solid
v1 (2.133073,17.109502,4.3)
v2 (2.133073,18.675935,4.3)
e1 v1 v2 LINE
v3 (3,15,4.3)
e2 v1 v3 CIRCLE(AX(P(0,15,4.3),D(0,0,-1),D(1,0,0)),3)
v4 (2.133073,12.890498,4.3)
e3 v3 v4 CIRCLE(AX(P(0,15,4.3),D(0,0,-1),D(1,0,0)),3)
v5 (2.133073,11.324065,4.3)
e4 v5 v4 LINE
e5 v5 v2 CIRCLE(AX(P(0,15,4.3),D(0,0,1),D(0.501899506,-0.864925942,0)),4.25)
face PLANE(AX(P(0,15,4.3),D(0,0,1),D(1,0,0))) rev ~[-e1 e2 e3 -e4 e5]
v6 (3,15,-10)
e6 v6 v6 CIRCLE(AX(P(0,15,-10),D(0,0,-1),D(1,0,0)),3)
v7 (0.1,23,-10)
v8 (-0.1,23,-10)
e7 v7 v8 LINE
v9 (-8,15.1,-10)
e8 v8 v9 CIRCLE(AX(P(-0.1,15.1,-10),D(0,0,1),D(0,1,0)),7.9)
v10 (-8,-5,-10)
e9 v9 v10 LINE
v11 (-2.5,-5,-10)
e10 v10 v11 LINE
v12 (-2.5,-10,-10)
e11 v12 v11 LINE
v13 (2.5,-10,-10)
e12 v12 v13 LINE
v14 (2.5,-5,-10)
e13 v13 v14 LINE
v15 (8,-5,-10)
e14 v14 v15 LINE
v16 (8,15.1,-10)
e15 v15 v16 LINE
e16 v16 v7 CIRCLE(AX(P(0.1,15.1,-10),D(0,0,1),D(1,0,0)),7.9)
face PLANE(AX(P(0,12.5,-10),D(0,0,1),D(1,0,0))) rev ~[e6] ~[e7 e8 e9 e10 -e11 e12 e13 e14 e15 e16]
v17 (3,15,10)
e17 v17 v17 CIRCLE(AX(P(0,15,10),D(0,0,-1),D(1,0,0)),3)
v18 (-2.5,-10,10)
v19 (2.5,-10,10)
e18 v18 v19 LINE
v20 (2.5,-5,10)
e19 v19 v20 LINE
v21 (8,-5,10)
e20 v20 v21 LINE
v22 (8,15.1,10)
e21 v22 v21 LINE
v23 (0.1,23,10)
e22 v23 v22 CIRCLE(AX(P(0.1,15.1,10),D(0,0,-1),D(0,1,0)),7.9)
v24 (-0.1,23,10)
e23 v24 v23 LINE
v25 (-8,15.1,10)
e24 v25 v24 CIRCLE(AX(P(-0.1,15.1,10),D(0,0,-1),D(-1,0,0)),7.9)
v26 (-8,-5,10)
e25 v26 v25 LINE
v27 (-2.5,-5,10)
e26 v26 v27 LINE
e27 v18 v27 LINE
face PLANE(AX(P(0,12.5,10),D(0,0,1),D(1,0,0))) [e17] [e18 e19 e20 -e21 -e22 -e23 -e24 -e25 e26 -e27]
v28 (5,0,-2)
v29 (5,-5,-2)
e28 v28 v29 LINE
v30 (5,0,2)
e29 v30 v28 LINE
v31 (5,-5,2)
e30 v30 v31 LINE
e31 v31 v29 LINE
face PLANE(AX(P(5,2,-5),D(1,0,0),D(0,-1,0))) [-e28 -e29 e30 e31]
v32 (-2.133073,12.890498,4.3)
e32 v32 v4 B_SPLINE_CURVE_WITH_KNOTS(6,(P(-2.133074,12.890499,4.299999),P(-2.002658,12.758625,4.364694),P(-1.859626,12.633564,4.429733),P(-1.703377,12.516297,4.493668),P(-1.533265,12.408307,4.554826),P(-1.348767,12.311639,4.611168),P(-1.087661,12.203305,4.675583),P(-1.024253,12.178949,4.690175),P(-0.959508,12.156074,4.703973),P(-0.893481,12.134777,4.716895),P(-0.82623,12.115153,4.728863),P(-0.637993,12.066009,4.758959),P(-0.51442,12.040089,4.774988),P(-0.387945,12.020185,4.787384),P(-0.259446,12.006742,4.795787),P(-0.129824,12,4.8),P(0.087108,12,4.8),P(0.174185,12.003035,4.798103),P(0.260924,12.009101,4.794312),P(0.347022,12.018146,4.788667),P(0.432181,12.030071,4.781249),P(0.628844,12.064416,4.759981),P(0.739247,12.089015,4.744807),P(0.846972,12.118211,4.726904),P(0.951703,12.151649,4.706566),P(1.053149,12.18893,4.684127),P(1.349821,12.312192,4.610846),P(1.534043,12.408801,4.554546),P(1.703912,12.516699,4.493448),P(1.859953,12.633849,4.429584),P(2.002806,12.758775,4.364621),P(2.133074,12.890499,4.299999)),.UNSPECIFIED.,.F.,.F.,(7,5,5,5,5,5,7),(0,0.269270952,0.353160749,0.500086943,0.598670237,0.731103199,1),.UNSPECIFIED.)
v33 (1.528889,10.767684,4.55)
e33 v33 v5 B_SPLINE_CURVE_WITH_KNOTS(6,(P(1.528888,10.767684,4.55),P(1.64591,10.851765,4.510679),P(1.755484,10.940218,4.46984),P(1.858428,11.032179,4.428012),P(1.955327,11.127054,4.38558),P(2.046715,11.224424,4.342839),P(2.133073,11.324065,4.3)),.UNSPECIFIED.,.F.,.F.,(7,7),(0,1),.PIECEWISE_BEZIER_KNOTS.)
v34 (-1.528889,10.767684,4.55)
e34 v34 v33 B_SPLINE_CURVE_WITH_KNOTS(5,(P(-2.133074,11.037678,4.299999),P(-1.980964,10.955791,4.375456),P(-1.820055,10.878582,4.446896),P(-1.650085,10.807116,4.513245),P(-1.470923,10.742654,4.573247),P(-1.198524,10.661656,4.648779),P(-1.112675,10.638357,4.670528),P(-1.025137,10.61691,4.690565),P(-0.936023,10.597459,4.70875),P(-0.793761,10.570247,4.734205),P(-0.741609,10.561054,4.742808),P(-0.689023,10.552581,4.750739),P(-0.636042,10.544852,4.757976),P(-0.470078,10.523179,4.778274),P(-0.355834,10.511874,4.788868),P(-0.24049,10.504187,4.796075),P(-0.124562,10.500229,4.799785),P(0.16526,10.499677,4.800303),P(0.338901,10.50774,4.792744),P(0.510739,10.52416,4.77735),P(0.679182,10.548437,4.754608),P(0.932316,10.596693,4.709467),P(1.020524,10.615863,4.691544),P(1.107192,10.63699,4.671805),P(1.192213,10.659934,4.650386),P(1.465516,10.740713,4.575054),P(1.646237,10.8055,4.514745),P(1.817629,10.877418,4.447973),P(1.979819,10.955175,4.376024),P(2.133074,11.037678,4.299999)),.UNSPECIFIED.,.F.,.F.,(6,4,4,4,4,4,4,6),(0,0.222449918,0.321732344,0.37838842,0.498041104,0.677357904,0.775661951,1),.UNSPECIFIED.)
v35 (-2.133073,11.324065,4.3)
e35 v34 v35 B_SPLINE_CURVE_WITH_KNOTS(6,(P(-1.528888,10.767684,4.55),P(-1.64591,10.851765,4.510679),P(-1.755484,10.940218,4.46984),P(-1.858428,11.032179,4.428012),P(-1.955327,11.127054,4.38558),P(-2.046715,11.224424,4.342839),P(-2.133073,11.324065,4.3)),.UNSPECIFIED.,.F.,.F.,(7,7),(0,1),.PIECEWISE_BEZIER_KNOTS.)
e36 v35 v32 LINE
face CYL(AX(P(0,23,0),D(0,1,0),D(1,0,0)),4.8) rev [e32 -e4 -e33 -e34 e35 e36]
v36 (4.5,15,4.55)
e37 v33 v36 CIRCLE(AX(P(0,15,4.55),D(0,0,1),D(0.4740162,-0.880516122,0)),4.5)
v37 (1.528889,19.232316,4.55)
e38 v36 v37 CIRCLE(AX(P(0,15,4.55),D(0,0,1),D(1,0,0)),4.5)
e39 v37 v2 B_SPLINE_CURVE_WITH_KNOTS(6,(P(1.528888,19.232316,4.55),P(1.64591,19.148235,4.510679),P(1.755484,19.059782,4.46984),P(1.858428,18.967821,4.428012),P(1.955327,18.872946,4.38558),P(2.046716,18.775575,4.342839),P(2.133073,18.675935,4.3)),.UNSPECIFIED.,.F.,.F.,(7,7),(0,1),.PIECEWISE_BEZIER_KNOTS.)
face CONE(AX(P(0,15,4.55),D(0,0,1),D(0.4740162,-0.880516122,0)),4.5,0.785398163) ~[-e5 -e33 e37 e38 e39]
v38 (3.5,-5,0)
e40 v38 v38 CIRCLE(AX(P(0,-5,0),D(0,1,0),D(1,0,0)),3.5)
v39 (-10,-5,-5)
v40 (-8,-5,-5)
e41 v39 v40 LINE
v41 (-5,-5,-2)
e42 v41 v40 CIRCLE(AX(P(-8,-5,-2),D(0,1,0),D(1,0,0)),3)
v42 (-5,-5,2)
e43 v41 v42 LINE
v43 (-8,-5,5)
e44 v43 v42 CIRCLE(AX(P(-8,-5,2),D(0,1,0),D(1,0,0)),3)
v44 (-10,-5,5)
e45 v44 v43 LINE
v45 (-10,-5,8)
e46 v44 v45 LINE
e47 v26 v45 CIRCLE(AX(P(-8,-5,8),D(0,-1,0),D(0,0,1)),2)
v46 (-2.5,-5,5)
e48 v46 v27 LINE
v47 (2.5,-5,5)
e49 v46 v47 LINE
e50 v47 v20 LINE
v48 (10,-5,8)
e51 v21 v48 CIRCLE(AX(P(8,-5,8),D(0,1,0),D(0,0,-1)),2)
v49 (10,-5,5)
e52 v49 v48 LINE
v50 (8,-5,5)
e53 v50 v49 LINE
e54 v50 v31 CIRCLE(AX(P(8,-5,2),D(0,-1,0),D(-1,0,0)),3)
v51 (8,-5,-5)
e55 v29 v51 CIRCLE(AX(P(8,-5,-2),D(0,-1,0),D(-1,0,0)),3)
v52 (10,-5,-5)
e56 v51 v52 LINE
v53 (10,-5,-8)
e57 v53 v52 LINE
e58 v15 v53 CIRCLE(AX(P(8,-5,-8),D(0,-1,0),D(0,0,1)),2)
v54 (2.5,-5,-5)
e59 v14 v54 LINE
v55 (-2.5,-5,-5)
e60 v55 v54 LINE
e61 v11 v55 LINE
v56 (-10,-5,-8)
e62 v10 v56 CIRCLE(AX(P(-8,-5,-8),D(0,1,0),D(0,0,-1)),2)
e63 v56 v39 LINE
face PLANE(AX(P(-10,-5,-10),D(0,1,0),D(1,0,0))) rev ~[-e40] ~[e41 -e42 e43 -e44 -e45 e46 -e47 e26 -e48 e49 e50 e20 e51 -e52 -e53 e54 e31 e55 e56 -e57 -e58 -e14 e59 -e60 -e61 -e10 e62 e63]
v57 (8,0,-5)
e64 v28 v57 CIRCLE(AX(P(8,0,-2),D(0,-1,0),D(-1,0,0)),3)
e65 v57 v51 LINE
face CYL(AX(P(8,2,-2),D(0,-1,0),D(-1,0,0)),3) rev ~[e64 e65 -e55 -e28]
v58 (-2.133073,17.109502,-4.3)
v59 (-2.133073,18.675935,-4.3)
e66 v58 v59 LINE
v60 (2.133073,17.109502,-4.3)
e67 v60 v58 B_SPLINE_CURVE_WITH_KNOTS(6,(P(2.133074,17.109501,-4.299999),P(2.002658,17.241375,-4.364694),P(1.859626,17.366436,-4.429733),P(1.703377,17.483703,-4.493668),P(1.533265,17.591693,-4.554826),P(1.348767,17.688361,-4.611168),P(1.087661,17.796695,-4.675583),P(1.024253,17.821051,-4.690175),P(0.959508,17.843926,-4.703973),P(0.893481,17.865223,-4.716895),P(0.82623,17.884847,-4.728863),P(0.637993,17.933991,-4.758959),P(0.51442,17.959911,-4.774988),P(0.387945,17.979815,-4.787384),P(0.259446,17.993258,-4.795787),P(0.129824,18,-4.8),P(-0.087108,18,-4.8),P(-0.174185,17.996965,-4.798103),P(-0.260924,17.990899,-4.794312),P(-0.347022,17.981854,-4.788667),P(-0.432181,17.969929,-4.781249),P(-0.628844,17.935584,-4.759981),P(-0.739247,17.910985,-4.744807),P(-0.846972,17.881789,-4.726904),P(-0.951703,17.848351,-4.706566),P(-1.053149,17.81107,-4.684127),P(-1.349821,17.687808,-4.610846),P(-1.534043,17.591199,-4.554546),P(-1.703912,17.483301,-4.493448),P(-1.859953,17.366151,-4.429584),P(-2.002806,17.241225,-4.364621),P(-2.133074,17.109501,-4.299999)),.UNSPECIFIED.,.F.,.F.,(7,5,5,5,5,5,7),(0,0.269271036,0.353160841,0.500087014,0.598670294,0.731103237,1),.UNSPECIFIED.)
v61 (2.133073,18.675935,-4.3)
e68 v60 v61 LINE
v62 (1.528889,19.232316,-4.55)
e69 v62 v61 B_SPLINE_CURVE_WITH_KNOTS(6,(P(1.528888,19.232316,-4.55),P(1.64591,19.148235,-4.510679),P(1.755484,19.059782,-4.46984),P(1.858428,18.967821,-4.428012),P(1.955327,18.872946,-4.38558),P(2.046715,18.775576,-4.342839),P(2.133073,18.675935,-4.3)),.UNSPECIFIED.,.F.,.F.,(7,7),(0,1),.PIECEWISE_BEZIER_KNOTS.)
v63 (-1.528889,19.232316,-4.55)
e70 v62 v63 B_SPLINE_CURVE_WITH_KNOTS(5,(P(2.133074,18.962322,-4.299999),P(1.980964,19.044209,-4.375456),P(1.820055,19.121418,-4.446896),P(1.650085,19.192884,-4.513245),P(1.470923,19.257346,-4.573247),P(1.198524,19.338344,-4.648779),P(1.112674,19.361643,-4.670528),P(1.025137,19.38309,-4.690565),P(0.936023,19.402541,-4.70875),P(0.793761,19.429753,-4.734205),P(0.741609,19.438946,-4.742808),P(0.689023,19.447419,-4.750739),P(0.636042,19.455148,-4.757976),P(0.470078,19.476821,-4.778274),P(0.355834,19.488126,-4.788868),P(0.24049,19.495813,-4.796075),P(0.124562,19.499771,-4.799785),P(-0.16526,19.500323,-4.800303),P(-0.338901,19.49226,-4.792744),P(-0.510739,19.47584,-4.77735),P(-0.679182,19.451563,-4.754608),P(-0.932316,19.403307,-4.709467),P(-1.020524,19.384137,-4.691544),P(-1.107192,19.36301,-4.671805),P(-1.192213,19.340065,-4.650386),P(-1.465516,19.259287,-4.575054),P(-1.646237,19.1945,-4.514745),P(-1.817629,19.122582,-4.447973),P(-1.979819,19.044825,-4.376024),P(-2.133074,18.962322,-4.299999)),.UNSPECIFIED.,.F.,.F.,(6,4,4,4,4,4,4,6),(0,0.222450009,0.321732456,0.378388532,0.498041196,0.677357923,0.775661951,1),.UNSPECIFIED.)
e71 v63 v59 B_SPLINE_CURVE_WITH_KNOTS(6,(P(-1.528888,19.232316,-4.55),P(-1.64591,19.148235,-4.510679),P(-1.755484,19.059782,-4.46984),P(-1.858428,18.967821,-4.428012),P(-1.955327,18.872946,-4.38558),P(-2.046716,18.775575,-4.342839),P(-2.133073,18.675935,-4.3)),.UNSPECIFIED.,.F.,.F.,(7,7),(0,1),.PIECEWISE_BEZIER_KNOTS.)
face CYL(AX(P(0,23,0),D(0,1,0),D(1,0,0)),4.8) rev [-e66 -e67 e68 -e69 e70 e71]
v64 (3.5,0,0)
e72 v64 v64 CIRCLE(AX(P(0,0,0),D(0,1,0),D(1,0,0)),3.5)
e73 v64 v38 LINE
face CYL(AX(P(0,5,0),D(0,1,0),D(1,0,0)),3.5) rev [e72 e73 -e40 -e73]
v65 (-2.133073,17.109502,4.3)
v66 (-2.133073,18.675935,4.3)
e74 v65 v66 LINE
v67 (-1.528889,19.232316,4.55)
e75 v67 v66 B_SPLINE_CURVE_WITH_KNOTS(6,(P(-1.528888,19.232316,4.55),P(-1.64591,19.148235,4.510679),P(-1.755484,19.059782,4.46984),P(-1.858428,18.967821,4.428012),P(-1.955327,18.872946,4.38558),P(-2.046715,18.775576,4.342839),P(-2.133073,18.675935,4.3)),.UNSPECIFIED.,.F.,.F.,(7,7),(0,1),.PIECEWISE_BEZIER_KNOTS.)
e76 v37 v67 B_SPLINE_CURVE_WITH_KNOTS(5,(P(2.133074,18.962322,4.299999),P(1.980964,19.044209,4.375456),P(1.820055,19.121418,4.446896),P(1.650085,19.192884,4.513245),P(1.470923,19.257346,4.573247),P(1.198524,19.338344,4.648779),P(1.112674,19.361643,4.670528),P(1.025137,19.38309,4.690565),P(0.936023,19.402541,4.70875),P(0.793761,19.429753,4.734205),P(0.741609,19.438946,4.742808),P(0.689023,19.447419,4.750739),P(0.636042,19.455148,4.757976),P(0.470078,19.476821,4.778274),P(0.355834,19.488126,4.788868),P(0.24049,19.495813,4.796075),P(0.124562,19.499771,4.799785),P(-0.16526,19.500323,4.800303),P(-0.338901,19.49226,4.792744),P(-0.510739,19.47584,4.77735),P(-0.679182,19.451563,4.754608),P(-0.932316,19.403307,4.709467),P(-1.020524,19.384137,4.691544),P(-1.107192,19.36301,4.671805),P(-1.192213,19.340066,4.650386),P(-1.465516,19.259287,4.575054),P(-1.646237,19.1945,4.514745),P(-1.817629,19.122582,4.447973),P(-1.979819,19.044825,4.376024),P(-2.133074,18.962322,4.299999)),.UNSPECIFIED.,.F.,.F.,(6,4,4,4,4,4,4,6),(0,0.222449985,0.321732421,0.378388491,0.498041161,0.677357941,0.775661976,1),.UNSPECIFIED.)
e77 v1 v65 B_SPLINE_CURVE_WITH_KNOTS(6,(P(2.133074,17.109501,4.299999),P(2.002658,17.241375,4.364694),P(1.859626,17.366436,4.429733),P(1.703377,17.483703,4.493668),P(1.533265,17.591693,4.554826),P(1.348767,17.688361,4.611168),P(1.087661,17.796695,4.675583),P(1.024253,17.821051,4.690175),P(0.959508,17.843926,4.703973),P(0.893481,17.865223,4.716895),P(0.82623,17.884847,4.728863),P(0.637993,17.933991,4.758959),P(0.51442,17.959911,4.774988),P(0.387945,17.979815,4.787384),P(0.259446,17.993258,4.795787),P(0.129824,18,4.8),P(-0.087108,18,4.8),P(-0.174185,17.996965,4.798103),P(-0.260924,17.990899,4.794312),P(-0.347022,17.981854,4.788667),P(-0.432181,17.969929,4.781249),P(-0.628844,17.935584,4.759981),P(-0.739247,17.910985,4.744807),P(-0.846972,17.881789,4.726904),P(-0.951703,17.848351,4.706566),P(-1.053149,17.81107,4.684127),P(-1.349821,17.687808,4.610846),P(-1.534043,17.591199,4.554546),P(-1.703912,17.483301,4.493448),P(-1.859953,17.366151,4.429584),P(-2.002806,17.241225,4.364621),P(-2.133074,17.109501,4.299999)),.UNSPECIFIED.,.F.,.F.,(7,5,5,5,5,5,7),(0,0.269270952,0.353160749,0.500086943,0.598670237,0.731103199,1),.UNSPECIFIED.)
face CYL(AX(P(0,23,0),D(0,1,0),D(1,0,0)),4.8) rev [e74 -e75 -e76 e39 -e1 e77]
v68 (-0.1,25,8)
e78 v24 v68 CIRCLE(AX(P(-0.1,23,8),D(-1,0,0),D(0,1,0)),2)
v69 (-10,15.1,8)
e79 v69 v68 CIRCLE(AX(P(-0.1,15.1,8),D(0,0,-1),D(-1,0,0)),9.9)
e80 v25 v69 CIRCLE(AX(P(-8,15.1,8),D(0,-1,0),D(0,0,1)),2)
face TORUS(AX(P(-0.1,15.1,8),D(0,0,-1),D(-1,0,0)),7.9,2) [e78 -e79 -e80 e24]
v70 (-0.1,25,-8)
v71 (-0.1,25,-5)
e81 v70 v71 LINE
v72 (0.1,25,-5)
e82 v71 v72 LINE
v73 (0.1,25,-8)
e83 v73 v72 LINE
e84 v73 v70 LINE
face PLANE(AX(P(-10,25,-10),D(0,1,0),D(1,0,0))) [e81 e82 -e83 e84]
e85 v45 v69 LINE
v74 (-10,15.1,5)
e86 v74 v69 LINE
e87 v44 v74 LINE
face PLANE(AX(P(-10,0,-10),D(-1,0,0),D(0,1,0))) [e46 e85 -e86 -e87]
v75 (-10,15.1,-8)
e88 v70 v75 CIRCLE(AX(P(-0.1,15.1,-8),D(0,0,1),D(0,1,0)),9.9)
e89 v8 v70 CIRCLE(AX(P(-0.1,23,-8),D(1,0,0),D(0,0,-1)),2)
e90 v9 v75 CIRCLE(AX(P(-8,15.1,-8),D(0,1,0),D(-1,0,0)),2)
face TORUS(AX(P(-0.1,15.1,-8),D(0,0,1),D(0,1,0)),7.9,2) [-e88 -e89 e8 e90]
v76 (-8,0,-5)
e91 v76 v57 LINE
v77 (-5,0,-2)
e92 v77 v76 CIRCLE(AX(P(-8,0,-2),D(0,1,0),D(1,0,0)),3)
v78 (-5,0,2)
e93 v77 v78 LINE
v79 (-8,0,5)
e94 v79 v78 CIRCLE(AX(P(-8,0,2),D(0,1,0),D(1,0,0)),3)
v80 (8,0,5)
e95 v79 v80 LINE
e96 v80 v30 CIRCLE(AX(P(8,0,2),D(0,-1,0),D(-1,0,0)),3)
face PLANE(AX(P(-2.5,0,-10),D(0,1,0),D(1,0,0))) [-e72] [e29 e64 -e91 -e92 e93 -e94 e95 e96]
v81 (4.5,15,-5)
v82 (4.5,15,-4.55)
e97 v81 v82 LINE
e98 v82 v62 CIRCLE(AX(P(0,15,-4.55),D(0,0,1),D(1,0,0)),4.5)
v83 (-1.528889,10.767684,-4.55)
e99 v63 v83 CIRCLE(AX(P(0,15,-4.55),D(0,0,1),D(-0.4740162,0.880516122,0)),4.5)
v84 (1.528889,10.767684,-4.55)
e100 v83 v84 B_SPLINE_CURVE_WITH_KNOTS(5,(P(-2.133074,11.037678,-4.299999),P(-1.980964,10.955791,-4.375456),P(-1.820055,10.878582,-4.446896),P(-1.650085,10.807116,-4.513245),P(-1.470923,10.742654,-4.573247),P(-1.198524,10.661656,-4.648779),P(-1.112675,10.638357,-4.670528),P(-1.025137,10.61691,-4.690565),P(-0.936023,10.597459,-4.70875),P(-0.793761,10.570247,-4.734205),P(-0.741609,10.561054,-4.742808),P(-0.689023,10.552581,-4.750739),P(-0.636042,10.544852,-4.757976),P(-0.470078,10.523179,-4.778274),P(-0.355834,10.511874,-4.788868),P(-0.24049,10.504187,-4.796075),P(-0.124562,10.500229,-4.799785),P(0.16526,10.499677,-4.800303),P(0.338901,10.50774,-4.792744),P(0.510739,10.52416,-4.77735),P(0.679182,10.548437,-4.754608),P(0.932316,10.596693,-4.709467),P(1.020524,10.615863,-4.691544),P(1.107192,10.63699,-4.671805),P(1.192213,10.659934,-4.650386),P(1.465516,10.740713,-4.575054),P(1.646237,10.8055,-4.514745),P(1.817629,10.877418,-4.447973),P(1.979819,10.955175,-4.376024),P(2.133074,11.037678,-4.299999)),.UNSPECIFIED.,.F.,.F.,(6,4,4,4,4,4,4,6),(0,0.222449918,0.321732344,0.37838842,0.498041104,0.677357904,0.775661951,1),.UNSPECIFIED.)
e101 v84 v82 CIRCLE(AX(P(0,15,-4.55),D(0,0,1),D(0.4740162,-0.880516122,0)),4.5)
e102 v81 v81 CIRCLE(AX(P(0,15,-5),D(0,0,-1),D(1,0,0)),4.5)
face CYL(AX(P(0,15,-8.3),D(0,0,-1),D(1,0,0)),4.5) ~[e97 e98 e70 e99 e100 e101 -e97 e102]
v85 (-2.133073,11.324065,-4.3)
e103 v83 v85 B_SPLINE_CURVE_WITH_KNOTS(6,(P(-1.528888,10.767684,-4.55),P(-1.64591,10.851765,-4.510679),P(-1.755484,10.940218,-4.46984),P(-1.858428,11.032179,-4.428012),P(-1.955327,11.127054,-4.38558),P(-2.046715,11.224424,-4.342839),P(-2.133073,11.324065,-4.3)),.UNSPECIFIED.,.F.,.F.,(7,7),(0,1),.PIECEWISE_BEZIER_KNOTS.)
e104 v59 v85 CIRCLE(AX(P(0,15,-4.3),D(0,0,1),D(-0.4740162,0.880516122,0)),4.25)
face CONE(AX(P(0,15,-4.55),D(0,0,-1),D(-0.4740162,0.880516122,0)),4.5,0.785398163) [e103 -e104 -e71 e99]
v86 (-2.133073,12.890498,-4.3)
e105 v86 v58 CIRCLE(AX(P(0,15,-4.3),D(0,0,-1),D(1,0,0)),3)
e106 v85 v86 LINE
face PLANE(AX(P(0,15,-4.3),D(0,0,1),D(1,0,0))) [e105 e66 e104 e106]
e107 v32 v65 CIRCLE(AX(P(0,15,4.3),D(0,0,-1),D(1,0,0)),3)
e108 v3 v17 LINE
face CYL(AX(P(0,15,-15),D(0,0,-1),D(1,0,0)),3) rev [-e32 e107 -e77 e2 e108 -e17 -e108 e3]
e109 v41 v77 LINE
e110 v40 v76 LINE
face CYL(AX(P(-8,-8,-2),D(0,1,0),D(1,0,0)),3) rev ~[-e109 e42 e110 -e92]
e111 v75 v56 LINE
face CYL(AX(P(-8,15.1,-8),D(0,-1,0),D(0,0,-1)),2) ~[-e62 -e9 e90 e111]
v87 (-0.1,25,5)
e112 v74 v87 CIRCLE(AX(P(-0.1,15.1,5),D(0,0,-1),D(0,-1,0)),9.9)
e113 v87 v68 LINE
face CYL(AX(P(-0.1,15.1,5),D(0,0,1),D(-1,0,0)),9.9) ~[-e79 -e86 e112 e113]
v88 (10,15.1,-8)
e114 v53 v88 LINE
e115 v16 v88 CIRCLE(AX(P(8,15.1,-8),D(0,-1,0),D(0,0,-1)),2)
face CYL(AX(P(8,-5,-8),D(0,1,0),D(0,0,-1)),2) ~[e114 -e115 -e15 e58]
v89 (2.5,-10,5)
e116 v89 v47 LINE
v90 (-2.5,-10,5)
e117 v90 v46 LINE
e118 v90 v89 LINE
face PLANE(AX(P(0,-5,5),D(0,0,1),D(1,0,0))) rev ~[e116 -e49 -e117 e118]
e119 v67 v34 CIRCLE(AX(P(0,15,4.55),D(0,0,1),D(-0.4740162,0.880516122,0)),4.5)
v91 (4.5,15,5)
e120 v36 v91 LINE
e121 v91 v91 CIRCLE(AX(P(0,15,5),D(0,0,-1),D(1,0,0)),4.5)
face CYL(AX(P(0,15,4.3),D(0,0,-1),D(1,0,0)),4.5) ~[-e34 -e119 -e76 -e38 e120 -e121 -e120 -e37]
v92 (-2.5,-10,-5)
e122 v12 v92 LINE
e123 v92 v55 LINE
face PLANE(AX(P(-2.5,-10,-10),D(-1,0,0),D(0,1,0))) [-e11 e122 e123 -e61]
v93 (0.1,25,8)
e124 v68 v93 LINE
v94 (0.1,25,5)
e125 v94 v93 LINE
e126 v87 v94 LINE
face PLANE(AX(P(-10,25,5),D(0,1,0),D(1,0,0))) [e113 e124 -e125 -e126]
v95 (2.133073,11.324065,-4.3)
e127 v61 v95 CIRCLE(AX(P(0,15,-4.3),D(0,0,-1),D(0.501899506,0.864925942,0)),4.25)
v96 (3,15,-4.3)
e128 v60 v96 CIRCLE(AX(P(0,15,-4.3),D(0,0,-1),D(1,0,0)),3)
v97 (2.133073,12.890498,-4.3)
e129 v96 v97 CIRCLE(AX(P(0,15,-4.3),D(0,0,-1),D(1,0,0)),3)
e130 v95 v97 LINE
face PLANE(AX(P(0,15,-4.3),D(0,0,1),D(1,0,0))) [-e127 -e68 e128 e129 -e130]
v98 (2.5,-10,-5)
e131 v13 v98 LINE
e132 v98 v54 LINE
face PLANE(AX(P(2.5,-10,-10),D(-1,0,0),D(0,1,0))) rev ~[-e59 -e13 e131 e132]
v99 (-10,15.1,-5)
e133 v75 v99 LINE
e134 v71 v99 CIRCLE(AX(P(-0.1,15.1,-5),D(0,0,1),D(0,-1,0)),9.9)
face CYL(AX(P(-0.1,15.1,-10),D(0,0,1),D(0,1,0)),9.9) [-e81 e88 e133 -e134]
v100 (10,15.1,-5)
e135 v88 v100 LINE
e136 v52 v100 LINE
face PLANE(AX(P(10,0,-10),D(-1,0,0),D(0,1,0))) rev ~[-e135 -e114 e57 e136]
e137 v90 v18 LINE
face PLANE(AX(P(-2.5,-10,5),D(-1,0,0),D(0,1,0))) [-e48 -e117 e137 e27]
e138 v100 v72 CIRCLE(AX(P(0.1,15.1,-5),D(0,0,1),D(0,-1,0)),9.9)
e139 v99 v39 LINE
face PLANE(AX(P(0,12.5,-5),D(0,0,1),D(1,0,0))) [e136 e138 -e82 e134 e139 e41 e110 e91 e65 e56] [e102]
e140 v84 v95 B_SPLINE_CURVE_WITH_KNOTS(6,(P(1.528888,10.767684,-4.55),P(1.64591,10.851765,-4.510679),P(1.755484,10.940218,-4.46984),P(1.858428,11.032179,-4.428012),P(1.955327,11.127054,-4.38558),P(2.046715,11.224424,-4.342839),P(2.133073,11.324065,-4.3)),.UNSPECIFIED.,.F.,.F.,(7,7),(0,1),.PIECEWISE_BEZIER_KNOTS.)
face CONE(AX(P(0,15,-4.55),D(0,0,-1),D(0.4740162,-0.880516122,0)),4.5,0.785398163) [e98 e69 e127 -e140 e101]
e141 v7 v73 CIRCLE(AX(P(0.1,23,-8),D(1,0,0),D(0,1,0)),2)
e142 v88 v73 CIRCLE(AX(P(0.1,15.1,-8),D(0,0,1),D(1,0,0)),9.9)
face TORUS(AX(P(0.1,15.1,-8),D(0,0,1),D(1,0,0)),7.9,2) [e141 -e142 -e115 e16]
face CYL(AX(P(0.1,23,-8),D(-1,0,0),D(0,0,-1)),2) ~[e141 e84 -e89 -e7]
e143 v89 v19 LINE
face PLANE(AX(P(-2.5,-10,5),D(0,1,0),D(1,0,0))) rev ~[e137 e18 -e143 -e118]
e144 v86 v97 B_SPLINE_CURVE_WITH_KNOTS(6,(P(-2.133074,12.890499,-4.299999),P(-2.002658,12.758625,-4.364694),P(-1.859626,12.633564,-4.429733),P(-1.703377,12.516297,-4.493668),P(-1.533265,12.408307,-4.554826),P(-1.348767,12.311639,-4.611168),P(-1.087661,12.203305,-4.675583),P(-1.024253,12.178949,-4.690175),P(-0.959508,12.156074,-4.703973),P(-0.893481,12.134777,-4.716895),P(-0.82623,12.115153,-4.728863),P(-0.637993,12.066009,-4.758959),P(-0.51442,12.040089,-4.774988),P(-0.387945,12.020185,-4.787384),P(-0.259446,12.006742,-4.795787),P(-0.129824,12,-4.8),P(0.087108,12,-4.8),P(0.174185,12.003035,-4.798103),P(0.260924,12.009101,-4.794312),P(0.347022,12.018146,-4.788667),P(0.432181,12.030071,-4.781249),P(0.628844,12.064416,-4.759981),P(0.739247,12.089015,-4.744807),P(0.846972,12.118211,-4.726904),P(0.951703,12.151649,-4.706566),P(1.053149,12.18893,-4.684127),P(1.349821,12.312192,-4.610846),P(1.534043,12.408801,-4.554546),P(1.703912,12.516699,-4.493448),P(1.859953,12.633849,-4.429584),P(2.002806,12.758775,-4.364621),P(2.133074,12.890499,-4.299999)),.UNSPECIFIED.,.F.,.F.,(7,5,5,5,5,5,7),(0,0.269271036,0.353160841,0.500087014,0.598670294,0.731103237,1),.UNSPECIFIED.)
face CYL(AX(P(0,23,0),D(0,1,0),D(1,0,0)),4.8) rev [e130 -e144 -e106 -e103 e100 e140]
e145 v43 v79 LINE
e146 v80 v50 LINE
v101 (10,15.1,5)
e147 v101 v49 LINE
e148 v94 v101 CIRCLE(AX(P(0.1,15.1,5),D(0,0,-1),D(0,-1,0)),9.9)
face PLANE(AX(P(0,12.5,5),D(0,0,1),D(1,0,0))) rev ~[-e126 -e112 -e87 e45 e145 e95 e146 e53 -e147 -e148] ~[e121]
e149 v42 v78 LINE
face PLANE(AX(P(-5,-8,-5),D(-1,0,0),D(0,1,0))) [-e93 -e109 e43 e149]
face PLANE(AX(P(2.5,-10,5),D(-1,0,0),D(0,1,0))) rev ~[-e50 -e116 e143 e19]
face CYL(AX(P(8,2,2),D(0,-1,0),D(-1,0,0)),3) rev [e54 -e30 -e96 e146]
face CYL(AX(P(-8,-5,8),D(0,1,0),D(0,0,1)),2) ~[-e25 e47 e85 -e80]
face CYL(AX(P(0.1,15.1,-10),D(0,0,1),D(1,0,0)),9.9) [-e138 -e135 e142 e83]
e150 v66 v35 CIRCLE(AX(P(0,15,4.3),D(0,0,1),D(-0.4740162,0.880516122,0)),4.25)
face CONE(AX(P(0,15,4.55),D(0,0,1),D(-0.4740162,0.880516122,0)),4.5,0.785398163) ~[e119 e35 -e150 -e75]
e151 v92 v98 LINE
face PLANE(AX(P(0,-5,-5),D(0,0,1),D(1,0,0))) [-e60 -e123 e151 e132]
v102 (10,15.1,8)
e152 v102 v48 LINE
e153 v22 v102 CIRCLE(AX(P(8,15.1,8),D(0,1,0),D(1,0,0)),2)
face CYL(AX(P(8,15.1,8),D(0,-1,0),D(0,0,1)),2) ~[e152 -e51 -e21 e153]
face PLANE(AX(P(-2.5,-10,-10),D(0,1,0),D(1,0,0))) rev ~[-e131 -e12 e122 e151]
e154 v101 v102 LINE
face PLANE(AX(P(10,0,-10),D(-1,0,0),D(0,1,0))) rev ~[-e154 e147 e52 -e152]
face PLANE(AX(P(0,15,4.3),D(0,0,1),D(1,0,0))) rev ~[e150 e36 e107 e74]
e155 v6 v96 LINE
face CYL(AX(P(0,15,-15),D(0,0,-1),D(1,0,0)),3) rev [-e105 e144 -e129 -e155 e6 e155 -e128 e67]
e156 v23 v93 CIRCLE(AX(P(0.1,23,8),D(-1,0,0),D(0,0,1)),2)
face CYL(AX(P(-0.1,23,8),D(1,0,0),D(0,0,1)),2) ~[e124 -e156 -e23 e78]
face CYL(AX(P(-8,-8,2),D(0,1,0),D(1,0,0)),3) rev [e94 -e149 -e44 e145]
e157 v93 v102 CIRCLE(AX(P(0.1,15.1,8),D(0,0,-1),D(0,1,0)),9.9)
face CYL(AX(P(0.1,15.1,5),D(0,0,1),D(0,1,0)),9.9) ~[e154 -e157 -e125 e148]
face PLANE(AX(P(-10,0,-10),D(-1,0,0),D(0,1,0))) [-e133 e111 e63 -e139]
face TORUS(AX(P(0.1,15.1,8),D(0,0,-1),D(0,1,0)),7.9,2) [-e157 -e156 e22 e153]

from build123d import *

# Parameters (mm, degrees)
CYLINDER007_R         = 4.8
CYLINDER007_DEPTH     = 15
BOX007_W              = 11
BOX007_H              = 7
BOX007_DEPTH          = 10
FILLET_R              = 3
ARRAY_COUNT           = 2
ARRAY_ANGLE           = 180
ARRAY_PLACEMENT_ANGLE = 90
CYLINDER004_R         = 3
CYLINDER004_DEPTH     = 30
CYLINDER_R            = 3.5
CYLINDER_DEPTH        = 15
CYLINDER006_R         = 4.5
CYLINDER006_DEPTH     = 4
CYLINDER005_R         = 4.5
CYLINDER005_DEPTH     = 4
BOX001_W              = 5
BOX001_H              = 10
BOX001_DEPTH          = 5
BOX002_W              = 20
BOX002_H              = 25
BOX002_DEPTH          = 5
BOX_W                 = 20
BOX_H                 = 5
BOX_DEPTH             = 20
CHAMFER_SIZE          = 0.25
CHAMFER001_SIZE       = 0.25
CHAMFER002_SIZE       = 0.25
FILLET001_R           = 9.9
FILLET002_R           = 2


with BuildPart() as cilindro005:
    # Cylinder007 → Cylinder007 (new body)
    with BuildSketch(Plane.XZ.offset(-23)):
        Circle(CYLINDER007_R)
    extrude(amount=CYLINDER007_DEPTH)


with BuildPart() as array:
    # Box007 → Box007 (new body)
    with BuildSketch(Plane(origin=(10, 5, -5), x_dir=(1, 0, 0), z_dir=(0, 0, 1))):
        with Locations((5.5, 3.5)):
            Rectangle(BOX007_W, BOX007_H)
    extrude(amount=BOX007_DEPTH)


with BuildPart() as array_1:
    # BaseFeature placement: moved
    add(array.part.moved(Location((-10, -5, 5))))

    # Fillet
    fillet_edges = [array_1.edges().sort_by_distance(p)[0] for p in [
        (5.5, 0, 10),
        (5.5, 0, 0),
    ]]
    fillet(fillet_edges, radius=FILLET_R)


with BuildPart() as array_2:
    # Body placement: moved
    add(array_1.part.moved(Location((-5, 5, 0))))

    # Array: Array ×2 about axis
    array_axis = Axis((0, 0, 0), (0, 0, 1))


with BuildPart() as array_3:
    add(array_2.part)
    for i in range(1, ARRAY_COUNT):
        add(array_2.part.rotate(array_axis, i * ARRAY_ANGLE / (ARRAY_COUNT - 1)))


with BuildPart() as array_4:
    # Array placement: moved
    add(array_3.part.moved(Location((0, -3, -5))).rotate(Axis((0, -3, -5), (0, 0, 1)), ARRAY_PLACEMENT_ANGLE))


with BuildPart() as cilindro004:
    # Cylinder004 → Cylinder004 (new body)
    with BuildSketch(Plane(origin=(0, 15, -15), x_dir=(1, 0, 0), z_dir=(0, 0, 1))):
        Circle(CYLINDER004_R)
    extrude(amount=CYLINDER004_DEPTH)


with BuildPart() as cilindro:
    # Cylinder → Cylinder (new body)
    with BuildSketch(Plane.XZ.offset(-5)):
        Circle(CYLINDER_R)
    extrude(amount=CYLINDER_DEPTH)


with BuildPart() as apoyo1:
    # Cylinder006 → Cylinder006 (new body)
    with BuildSketch(Plane.XY.offset(4.3)):
        Circle(CYLINDER006_R)
    extrude(amount=CYLINDER006_DEPTH)


with BuildPart() as fusion003:
    # Cylinder005 → Cylinder005 (new body)
    with BuildSketch(Plane.XY.offset(-8.3)):
        Circle(CYLINDER005_R)
    extrude(amount=CYLINDER005_DEPTH)

    # Fusion003: union apoyo1
    add(apoyo1.part)


with BuildPart() as fusion003_1:
    # Fusion003 placement: moved
    add(fusion003.part.moved(Location((0, 15, 0))))


with BuildPart() as pin0:
    # Box001 → Box001 (new body)
    with BuildSketch(Plane(origin=(-2.5, -10, 5), x_dir=(1, 0, 0), z_dir=(0, 0, 1))):
        with Locations((2.5, 5)):
            Rectangle(BOX001_W, BOX001_H)
    extrude(amount=BOX001_DEPTH)


with BuildPart() as pin001:
    # Clone base: copy of pin0
    add(pin0.part)


with BuildPart() as pin001_1:
    # Clone placement: moved
    add(pin001.part.moved(Location((0, 0, -15))))


with BuildPart() as pared1:
    # Box002 → Box002 (new body)
    with BuildSketch(Plane(origin=(-10, 0, 5), x_dir=(1, 0, 0), z_dir=(0, 0, 1))):
        with Locations((10, 12.5)):
            Rectangle(BOX002_W, BOX002_H)
    extrude(amount=BOX002_DEPTH)


with BuildPart() as pared002:
    # Clone001 base: copy of pared1
    add(pared1.part)


with BuildPart() as pared002_1:
    # Clone001 placement: moved
    add(pared002.part.moved(Location((0, 0, -15))))


with BuildPart() as fillet002:
    # Box → Box (new body)
    with BuildSketch(Plane(origin=(-10, -5, -10), x_dir=(1, 0, 0), z_dir=(0, 0, 1))):
        with Locations((10, 2.5)):
            Rectangle(BOX_W, BOX_H)
    extrude(amount=BOX_DEPTH)

    # Fusion: union pin0, pin001, pared1, pared002
    add(pin0.part)
    add(pin001_1.part)
    add(pared1.part)
    add(pared002_1.part)

    # Fusion004: union Fusion003
    add(fusion003_1.part)

    # Cut001: cut Cilindro
    add(cilindro.part, mode=Mode.SUBTRACT)

    # Cut002: cut Cilindro004
    add(cilindro004.part, mode=Mode.SUBTRACT)

    # Cut003: cut Array
    add(array_4.part, mode=Mode.SUBTRACT)

    # Cut004: cut Cilindro005
    add(cilindro005.part, mode=Mode.SUBTRACT)

    # Chamfer
    chamfer_edges = [fillet002.edges().sort_by_distance(p)[0] for p in [
        (3.863213, 17.307723, 4.3),
        (3.863213, 12.692277, 4.3),
    ]]
    chamfer(chamfer_edges, length=CHAMFER_SIZE)

    # Chamfer001
    chamfer001_edges = [fillet002.edges().sort_by_distance(p)[0] for p in [
        (-4.5, 15, 4.3),
    ]]
    chamfer(chamfer001_edges, length=CHAMFER001_SIZE)

    # Chamfer002
    chamfer002_edges = [fillet002.edges().sort_by_distance(p)[0] for p in [
        (3.863213, 17.307723, -4.3),
        (-4.5, 15, -4.3),
        (3.863213, 12.692277, -4.3),
    ]]
    chamfer(chamfer002_edges, length=CHAMFER002_SIZE)

    # Fillet001
    fillet001_edges = [fillet002.edges().sort_by_distance(p)[0] for p in [
        (-10, 25, -7.5),
        (10, 25, -7.5),
        (-10, 25, 7.5),
        (10, 25, 7.5),
    ]]
    fillet(fillet001_edges, radius=FILLET001_R)

    # Fillet002
    fillet002_edges = [fillet002.edges().sort_by_distance(p)[0] for p in [
        (-10, 5.05, -10),
        (-10, 5.05, 10),
    ]]
    fillet(fillet002_edges, radius=FILLET002_R)


solid = fillet002.part
